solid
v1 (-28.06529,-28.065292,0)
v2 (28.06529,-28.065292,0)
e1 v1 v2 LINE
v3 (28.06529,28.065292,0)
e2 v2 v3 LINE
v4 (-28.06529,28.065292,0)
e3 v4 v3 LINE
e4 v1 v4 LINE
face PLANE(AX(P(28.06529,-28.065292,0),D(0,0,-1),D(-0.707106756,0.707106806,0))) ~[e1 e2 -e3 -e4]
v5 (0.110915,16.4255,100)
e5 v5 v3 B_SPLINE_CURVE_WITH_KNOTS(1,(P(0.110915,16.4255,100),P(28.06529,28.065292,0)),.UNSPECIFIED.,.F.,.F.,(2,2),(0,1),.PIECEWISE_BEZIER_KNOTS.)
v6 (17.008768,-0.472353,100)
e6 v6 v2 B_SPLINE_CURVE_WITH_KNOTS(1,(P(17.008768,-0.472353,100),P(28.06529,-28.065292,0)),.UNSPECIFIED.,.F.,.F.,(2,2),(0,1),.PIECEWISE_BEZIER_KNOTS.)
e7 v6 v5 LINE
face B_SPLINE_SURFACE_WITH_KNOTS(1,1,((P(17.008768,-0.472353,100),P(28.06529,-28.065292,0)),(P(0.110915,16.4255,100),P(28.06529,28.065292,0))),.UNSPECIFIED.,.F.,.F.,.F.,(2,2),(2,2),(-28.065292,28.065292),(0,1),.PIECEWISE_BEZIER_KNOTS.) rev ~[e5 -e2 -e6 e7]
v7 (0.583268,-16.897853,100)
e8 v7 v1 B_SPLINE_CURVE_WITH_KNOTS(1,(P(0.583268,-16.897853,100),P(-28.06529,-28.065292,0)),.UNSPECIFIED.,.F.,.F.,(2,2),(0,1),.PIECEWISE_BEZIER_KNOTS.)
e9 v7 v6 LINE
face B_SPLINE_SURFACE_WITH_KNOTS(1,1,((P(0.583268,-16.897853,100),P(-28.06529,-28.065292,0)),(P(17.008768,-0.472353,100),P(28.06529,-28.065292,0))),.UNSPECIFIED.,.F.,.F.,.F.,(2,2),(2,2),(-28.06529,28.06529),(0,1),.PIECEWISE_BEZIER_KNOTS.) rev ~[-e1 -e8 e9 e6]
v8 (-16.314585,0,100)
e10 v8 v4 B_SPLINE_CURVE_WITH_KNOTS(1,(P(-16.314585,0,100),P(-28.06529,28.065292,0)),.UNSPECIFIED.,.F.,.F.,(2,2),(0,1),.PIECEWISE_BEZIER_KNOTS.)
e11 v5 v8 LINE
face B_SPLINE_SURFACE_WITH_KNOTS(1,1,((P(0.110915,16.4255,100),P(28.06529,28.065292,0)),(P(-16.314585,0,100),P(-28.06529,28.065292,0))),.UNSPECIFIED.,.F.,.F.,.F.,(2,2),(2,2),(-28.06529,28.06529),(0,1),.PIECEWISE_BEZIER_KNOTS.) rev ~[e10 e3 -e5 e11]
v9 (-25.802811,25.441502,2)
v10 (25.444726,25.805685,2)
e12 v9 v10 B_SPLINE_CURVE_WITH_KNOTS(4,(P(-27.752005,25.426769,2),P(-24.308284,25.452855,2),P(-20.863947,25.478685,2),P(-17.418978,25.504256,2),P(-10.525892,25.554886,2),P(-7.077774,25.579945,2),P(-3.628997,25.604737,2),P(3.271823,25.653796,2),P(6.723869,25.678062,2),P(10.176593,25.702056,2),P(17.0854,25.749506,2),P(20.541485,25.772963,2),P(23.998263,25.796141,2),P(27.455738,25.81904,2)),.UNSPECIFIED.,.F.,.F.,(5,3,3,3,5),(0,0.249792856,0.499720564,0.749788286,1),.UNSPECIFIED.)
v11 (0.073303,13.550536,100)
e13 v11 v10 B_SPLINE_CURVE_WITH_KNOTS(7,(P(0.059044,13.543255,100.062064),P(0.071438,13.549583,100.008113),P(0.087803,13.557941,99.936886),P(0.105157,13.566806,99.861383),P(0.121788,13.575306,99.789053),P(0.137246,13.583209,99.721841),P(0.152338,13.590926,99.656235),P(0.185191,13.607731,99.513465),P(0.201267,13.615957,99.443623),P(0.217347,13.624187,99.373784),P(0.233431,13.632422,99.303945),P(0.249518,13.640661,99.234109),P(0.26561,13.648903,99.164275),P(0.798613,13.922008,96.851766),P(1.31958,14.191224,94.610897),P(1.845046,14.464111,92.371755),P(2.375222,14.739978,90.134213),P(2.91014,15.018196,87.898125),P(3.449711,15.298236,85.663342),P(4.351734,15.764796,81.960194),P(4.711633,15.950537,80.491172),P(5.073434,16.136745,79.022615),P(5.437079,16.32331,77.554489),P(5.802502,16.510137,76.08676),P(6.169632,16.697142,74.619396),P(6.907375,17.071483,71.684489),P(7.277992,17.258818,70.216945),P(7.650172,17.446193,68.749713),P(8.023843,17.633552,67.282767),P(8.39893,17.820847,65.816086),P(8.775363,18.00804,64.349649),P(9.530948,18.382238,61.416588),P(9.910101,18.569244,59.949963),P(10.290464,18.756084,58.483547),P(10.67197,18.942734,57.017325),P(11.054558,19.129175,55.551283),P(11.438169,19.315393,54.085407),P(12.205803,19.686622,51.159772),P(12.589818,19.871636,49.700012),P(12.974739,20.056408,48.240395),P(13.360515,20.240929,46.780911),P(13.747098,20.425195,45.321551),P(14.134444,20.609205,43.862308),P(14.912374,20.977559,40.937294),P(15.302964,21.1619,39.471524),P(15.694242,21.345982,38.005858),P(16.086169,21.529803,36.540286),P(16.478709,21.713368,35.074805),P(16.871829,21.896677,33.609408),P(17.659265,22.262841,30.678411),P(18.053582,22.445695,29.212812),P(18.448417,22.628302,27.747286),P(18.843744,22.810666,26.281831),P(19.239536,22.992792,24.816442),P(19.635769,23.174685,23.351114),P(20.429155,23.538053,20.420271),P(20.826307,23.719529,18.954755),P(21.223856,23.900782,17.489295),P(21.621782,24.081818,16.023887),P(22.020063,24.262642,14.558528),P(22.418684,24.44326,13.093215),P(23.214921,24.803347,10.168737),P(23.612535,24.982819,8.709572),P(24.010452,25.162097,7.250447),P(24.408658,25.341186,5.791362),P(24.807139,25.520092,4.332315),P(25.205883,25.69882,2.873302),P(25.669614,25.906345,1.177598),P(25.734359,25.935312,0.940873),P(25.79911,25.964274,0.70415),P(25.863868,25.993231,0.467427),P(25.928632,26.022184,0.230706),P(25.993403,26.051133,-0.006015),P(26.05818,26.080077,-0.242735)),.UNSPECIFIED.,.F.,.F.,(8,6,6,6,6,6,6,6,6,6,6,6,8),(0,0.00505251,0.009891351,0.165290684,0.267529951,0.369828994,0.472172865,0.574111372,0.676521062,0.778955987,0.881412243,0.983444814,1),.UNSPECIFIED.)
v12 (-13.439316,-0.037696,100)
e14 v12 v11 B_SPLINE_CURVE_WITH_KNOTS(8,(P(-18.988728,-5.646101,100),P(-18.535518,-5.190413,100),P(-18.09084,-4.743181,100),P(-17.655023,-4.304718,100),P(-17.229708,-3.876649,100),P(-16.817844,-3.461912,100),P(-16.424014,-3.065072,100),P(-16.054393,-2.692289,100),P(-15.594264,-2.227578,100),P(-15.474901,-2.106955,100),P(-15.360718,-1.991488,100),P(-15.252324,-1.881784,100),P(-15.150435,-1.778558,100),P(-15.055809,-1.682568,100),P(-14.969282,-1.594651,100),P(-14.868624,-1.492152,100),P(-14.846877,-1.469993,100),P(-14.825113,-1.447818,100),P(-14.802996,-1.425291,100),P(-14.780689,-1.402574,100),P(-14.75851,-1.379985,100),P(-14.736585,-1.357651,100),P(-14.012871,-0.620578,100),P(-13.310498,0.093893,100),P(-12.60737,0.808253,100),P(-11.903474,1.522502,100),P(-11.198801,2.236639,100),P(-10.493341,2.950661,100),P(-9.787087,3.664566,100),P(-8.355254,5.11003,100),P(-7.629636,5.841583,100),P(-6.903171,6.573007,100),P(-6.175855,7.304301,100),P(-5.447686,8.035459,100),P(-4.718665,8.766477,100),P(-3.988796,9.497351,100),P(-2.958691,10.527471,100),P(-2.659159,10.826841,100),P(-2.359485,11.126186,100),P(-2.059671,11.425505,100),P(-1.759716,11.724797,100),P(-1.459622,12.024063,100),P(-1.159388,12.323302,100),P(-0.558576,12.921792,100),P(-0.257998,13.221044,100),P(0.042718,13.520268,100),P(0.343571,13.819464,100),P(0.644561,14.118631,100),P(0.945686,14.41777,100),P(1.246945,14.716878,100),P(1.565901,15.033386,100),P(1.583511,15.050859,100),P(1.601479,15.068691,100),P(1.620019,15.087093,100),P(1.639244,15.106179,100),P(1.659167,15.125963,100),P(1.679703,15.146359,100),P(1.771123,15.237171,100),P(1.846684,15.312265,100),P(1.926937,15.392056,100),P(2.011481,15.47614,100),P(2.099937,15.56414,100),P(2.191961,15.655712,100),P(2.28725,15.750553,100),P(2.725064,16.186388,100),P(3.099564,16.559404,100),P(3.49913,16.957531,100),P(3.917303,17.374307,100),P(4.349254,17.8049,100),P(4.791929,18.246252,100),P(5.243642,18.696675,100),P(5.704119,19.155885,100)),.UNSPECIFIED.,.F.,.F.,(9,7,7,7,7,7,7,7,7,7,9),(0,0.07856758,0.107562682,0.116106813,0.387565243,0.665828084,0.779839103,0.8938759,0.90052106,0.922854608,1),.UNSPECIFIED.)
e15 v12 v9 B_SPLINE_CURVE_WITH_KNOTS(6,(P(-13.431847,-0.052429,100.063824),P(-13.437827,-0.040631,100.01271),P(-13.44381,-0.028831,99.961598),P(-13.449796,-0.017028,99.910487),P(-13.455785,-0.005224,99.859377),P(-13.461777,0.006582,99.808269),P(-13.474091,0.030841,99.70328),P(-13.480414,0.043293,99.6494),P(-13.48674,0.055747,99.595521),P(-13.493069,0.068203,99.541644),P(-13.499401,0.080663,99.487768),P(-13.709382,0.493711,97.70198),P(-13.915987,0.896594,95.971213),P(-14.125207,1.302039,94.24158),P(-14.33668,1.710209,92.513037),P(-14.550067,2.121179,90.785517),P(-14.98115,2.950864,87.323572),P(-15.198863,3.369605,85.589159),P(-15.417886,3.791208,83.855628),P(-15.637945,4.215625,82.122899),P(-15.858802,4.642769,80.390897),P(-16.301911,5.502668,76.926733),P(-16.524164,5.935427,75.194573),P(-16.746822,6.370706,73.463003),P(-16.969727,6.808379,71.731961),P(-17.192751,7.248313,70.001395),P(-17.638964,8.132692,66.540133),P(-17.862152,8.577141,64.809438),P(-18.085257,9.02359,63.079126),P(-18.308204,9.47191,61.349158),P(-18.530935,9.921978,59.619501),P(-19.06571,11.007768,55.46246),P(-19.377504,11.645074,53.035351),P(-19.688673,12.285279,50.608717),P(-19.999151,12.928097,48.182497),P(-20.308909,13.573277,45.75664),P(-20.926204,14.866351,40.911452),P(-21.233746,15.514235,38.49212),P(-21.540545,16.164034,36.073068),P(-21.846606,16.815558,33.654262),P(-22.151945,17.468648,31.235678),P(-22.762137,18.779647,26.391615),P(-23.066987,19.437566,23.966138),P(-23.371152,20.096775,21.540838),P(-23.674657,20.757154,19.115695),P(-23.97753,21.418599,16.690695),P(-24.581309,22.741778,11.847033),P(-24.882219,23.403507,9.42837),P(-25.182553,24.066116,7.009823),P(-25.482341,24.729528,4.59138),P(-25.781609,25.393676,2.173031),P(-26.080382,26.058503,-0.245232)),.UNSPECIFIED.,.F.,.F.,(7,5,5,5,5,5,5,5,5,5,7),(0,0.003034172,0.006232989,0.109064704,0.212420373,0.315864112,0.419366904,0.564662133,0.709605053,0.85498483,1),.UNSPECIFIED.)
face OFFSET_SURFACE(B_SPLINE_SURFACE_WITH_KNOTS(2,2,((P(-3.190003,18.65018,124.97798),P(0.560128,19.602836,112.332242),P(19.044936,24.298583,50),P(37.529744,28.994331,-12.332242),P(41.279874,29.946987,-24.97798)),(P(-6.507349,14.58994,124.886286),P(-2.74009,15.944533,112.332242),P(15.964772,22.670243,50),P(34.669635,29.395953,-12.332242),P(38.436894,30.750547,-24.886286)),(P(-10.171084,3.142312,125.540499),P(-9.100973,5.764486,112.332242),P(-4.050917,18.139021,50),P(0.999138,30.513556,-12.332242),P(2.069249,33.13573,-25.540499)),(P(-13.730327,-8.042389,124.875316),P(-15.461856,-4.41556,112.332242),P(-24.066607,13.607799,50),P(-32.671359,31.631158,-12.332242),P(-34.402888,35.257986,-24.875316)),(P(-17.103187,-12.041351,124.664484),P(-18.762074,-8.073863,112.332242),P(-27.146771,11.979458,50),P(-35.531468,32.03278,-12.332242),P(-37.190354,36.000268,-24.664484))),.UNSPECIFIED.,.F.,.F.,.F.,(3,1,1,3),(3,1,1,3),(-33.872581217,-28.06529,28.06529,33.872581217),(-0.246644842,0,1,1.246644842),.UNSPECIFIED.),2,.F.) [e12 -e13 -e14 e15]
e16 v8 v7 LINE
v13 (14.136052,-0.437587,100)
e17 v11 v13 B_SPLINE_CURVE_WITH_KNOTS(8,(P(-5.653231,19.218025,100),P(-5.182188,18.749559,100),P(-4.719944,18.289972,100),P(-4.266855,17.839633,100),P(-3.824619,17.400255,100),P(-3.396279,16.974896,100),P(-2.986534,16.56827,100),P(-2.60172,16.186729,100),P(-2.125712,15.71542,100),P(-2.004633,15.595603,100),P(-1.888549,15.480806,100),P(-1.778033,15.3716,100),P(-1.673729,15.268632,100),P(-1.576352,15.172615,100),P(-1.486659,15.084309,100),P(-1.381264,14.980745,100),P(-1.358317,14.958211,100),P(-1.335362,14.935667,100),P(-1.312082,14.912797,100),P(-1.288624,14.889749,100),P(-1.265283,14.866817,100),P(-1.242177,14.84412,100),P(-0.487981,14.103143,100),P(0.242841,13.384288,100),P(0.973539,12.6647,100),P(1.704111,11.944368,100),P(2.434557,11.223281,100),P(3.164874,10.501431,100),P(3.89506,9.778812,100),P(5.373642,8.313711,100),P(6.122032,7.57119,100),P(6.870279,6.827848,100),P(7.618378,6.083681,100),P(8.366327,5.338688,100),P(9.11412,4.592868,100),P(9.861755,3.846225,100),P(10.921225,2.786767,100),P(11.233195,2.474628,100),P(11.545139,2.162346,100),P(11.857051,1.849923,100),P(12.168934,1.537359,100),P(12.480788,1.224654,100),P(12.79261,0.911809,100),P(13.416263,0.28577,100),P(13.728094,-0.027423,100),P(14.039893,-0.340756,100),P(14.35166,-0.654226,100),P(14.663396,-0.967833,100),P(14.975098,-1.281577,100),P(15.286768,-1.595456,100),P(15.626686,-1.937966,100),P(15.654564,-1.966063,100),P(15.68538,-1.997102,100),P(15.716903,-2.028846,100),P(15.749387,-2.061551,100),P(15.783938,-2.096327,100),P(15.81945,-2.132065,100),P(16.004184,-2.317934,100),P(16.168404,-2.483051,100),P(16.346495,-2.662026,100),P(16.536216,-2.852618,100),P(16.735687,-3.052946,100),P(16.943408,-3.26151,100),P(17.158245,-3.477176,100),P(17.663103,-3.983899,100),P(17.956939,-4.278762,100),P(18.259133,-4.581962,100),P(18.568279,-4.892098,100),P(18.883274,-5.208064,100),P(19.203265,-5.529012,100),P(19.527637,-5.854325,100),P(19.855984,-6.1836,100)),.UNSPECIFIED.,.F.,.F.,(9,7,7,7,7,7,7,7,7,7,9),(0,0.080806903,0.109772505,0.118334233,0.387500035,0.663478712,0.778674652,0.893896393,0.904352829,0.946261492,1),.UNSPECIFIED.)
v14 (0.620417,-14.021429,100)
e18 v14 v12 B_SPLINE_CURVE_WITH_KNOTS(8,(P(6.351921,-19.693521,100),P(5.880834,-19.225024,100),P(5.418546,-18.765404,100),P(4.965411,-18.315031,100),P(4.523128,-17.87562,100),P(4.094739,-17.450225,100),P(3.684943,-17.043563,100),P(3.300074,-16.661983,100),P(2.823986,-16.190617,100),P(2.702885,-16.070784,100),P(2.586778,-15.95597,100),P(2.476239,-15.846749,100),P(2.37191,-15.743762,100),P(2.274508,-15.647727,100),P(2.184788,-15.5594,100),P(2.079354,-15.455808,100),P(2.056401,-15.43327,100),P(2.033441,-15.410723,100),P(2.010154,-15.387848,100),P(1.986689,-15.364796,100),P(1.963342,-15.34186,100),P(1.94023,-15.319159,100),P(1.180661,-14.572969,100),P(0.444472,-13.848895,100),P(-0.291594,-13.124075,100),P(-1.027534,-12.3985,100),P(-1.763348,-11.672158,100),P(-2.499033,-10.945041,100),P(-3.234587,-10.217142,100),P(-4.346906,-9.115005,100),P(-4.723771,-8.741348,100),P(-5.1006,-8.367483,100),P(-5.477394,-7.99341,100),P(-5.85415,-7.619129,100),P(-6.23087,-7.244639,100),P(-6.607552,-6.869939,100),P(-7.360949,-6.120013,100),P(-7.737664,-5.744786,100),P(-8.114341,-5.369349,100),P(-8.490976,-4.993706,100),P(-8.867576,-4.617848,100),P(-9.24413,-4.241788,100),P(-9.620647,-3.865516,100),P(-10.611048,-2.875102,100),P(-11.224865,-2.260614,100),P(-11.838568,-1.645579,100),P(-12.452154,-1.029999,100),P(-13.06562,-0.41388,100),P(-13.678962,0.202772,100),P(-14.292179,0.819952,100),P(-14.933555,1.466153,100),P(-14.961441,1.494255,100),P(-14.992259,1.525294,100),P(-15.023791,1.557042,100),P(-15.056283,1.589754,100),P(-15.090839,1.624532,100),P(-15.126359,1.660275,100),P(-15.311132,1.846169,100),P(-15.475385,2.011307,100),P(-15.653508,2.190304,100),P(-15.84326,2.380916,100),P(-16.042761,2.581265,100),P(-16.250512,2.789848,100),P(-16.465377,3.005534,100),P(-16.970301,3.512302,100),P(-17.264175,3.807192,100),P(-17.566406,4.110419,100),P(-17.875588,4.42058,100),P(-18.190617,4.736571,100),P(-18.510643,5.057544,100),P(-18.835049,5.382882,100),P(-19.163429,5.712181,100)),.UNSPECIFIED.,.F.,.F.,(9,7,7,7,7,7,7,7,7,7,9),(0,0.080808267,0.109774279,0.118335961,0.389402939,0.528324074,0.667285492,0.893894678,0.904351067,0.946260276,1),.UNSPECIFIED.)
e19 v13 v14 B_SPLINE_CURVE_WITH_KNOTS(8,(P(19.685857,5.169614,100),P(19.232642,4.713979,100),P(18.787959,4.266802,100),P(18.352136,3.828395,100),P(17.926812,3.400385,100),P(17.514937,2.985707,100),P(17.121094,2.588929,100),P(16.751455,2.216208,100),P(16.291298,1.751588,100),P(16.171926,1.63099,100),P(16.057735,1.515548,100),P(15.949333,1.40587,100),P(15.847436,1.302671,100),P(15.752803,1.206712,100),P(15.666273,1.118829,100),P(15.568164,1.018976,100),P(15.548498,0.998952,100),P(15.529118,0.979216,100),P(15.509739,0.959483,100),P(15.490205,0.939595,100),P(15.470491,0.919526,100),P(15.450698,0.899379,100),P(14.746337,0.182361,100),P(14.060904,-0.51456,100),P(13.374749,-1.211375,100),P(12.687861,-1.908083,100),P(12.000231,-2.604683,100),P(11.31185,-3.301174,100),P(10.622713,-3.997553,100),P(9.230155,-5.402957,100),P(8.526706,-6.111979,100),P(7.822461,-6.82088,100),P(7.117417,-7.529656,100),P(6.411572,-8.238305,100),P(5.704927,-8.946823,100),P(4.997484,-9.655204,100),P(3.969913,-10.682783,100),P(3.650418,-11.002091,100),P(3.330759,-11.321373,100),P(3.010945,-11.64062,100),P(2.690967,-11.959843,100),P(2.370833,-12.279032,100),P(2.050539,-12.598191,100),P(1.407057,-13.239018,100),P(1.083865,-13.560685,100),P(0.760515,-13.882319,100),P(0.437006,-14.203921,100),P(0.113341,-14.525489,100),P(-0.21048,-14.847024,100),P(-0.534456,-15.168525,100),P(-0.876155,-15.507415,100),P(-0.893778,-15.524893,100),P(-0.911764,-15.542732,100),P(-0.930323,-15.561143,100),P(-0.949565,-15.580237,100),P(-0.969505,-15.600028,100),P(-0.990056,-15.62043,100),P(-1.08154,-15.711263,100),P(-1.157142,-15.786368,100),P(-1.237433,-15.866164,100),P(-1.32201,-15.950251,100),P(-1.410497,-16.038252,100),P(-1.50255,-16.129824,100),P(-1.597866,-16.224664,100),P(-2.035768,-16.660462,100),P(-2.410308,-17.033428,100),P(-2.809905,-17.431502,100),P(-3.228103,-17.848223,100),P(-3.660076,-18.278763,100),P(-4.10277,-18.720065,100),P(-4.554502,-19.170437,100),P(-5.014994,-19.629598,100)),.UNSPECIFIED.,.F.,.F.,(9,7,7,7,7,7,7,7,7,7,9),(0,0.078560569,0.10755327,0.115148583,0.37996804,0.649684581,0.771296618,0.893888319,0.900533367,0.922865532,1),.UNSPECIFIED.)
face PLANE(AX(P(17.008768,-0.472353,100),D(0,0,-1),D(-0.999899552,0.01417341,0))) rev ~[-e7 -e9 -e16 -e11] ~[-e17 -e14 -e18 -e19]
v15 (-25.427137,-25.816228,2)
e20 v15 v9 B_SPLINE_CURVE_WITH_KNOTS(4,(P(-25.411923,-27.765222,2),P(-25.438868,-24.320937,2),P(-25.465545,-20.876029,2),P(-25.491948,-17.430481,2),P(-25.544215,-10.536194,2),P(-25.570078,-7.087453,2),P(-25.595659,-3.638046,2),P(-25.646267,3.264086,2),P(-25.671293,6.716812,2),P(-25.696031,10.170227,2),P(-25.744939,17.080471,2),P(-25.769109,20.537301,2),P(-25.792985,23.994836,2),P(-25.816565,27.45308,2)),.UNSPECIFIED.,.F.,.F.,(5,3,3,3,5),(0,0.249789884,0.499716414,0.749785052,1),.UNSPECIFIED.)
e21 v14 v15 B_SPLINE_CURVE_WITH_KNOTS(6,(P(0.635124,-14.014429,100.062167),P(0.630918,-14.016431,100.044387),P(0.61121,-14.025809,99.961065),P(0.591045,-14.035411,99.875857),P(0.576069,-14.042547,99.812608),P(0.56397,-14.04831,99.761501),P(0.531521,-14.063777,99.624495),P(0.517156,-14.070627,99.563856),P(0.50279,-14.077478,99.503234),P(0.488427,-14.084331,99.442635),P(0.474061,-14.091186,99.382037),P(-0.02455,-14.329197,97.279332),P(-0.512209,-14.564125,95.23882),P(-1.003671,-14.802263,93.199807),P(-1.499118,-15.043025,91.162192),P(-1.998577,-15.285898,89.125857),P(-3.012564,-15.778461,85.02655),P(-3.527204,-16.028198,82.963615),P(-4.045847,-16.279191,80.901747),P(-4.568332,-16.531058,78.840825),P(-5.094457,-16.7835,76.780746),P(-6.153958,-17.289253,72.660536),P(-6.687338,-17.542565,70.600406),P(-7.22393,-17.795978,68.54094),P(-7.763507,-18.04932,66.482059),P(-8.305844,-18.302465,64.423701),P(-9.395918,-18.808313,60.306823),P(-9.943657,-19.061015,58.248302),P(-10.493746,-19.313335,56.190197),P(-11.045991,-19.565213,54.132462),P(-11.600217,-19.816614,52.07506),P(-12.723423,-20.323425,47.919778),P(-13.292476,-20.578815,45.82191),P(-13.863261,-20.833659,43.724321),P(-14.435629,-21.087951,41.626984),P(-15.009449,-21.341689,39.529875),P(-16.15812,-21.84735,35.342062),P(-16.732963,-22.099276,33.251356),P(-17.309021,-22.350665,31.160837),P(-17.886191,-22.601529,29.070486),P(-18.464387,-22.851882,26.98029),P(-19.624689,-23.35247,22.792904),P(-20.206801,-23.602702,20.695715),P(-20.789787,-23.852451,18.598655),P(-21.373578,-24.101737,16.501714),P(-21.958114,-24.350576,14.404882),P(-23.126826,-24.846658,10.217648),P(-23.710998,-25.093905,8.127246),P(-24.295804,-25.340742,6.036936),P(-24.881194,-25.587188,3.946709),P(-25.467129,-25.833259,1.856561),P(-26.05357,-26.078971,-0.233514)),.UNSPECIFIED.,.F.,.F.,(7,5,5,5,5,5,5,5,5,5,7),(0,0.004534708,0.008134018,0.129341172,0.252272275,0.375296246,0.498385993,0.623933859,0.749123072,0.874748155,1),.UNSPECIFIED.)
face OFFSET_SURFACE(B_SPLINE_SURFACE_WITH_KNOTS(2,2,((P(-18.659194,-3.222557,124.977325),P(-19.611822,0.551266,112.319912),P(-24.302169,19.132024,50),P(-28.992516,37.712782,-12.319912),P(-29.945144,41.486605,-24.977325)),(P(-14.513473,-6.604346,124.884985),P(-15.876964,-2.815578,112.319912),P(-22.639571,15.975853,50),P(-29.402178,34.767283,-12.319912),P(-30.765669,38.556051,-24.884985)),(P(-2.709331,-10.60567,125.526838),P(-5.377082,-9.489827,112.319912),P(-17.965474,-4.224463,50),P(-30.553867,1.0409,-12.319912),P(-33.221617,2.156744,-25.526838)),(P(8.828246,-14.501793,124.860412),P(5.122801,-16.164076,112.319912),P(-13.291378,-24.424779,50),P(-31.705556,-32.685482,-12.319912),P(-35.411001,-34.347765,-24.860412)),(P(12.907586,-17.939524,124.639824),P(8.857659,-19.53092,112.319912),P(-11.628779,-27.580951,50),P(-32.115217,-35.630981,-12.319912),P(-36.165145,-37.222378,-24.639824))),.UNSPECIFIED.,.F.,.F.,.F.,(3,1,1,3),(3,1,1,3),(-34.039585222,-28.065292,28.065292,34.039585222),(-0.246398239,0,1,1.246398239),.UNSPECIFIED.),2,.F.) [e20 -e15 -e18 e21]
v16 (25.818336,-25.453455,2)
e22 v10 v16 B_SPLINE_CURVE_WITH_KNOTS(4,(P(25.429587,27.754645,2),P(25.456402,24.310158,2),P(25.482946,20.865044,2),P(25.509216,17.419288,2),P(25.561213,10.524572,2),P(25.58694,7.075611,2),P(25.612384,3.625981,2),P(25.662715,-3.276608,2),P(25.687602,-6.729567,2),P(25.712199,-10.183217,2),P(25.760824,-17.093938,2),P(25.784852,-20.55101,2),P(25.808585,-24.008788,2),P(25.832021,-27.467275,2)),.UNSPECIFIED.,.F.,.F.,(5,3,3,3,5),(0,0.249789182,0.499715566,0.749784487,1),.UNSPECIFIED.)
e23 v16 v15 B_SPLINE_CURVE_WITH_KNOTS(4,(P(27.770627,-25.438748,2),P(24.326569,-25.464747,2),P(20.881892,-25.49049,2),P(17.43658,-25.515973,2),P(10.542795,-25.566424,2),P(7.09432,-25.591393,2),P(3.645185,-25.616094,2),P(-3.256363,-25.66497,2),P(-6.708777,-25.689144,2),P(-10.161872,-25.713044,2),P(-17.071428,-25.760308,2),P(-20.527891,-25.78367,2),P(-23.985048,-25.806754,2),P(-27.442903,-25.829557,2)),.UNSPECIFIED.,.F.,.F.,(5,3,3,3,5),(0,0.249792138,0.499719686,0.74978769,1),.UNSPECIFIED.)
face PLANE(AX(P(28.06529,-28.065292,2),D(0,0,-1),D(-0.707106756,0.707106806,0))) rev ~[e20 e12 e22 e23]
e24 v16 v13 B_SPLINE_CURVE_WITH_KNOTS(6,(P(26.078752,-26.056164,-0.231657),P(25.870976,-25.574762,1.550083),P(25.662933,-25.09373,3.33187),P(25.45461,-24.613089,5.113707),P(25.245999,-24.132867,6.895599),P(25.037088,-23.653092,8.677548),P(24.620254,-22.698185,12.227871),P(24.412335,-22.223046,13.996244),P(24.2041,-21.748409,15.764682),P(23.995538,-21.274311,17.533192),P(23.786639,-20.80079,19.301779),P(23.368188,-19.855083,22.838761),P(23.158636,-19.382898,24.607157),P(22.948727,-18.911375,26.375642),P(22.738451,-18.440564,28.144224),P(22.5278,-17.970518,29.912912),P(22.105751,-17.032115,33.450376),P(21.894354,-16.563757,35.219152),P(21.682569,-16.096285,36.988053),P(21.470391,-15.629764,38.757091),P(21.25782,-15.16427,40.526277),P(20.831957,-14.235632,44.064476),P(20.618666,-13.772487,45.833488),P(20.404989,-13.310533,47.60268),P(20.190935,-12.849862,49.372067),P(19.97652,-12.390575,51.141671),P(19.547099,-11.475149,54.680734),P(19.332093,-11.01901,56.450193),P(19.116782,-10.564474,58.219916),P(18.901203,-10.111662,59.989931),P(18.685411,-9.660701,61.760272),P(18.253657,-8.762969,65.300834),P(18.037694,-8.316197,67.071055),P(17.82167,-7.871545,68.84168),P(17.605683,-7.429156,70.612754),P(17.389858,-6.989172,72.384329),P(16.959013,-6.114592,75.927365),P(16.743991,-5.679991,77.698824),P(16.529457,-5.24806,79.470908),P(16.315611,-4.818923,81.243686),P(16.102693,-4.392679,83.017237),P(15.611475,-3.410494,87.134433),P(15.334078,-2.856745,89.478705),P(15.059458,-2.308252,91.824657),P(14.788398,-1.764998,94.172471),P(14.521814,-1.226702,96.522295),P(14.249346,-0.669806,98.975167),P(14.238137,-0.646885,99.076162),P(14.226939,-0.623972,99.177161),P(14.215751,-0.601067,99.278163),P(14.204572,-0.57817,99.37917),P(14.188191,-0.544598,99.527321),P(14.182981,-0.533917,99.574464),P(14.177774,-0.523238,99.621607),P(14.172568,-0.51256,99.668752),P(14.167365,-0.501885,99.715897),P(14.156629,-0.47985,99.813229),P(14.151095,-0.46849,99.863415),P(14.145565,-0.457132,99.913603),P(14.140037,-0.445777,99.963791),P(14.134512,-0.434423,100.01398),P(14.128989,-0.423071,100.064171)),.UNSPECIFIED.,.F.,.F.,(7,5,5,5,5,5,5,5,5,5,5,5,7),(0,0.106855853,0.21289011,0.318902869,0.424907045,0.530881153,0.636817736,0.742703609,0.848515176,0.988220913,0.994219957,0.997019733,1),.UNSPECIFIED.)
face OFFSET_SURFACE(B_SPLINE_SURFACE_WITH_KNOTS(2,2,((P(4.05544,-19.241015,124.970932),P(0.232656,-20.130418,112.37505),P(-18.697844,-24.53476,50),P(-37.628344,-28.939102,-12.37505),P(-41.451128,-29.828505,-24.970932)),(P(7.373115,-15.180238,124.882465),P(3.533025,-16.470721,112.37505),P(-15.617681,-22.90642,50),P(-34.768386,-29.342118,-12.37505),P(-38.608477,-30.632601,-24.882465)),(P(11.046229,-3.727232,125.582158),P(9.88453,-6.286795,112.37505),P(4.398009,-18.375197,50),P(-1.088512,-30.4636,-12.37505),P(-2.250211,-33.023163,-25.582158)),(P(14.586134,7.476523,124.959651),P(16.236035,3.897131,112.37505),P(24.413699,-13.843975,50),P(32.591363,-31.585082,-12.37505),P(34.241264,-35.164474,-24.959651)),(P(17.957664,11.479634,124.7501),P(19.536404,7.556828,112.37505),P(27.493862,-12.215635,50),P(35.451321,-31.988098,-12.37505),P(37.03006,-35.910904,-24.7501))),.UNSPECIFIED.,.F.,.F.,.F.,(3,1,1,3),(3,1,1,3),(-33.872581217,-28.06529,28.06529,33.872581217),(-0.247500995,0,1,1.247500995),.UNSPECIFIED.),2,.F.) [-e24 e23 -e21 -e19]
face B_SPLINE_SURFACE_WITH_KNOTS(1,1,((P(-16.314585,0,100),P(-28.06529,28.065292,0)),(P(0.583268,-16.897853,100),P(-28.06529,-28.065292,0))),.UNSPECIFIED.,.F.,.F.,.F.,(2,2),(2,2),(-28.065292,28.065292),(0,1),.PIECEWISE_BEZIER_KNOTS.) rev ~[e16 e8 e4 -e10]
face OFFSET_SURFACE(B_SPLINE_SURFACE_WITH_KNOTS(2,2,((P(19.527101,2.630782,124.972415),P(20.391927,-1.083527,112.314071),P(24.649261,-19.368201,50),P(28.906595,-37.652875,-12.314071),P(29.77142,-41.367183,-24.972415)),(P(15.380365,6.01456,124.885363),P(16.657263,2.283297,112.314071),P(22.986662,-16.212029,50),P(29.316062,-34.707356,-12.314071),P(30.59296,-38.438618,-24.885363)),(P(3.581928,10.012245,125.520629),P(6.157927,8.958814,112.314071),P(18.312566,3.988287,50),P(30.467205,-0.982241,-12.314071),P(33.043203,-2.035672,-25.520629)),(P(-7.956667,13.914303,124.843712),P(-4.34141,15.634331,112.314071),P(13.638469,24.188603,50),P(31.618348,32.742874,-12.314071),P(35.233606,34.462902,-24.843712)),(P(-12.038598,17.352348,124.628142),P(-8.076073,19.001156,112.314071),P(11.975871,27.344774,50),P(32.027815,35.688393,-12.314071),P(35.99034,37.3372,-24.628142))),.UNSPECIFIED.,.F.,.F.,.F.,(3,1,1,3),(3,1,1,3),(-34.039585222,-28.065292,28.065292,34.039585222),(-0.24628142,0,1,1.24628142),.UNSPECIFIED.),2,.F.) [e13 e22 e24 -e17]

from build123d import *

# Parameters (mm, degrees)
F0_W = 56.13058
F0_H = 56.130584
F4_T = -2


with BuildPart() as f3:
    # F2 (on offset) → F3 section 0
    with BuildSketch(Plane.XY.offset(100)):
        Polygon((17.008768, -0.472353), (0.110915, 16.4255), (-16.314585, 0), (0.583268, -16.897853), align=None)
    # F0 (on Top) → F3 section 1
    with BuildSketch(Plane.XY):
        Rectangle(F0_W, F0_H)
    loft()

    # F4
    f4_openings = [f3.faces().sort_by_distance(p)[0] for p in [
        (0.347092, -0.236176, 100),
    ]]
    offset(amount=F4_T, openings=f4_openings)


solid = f3.part
